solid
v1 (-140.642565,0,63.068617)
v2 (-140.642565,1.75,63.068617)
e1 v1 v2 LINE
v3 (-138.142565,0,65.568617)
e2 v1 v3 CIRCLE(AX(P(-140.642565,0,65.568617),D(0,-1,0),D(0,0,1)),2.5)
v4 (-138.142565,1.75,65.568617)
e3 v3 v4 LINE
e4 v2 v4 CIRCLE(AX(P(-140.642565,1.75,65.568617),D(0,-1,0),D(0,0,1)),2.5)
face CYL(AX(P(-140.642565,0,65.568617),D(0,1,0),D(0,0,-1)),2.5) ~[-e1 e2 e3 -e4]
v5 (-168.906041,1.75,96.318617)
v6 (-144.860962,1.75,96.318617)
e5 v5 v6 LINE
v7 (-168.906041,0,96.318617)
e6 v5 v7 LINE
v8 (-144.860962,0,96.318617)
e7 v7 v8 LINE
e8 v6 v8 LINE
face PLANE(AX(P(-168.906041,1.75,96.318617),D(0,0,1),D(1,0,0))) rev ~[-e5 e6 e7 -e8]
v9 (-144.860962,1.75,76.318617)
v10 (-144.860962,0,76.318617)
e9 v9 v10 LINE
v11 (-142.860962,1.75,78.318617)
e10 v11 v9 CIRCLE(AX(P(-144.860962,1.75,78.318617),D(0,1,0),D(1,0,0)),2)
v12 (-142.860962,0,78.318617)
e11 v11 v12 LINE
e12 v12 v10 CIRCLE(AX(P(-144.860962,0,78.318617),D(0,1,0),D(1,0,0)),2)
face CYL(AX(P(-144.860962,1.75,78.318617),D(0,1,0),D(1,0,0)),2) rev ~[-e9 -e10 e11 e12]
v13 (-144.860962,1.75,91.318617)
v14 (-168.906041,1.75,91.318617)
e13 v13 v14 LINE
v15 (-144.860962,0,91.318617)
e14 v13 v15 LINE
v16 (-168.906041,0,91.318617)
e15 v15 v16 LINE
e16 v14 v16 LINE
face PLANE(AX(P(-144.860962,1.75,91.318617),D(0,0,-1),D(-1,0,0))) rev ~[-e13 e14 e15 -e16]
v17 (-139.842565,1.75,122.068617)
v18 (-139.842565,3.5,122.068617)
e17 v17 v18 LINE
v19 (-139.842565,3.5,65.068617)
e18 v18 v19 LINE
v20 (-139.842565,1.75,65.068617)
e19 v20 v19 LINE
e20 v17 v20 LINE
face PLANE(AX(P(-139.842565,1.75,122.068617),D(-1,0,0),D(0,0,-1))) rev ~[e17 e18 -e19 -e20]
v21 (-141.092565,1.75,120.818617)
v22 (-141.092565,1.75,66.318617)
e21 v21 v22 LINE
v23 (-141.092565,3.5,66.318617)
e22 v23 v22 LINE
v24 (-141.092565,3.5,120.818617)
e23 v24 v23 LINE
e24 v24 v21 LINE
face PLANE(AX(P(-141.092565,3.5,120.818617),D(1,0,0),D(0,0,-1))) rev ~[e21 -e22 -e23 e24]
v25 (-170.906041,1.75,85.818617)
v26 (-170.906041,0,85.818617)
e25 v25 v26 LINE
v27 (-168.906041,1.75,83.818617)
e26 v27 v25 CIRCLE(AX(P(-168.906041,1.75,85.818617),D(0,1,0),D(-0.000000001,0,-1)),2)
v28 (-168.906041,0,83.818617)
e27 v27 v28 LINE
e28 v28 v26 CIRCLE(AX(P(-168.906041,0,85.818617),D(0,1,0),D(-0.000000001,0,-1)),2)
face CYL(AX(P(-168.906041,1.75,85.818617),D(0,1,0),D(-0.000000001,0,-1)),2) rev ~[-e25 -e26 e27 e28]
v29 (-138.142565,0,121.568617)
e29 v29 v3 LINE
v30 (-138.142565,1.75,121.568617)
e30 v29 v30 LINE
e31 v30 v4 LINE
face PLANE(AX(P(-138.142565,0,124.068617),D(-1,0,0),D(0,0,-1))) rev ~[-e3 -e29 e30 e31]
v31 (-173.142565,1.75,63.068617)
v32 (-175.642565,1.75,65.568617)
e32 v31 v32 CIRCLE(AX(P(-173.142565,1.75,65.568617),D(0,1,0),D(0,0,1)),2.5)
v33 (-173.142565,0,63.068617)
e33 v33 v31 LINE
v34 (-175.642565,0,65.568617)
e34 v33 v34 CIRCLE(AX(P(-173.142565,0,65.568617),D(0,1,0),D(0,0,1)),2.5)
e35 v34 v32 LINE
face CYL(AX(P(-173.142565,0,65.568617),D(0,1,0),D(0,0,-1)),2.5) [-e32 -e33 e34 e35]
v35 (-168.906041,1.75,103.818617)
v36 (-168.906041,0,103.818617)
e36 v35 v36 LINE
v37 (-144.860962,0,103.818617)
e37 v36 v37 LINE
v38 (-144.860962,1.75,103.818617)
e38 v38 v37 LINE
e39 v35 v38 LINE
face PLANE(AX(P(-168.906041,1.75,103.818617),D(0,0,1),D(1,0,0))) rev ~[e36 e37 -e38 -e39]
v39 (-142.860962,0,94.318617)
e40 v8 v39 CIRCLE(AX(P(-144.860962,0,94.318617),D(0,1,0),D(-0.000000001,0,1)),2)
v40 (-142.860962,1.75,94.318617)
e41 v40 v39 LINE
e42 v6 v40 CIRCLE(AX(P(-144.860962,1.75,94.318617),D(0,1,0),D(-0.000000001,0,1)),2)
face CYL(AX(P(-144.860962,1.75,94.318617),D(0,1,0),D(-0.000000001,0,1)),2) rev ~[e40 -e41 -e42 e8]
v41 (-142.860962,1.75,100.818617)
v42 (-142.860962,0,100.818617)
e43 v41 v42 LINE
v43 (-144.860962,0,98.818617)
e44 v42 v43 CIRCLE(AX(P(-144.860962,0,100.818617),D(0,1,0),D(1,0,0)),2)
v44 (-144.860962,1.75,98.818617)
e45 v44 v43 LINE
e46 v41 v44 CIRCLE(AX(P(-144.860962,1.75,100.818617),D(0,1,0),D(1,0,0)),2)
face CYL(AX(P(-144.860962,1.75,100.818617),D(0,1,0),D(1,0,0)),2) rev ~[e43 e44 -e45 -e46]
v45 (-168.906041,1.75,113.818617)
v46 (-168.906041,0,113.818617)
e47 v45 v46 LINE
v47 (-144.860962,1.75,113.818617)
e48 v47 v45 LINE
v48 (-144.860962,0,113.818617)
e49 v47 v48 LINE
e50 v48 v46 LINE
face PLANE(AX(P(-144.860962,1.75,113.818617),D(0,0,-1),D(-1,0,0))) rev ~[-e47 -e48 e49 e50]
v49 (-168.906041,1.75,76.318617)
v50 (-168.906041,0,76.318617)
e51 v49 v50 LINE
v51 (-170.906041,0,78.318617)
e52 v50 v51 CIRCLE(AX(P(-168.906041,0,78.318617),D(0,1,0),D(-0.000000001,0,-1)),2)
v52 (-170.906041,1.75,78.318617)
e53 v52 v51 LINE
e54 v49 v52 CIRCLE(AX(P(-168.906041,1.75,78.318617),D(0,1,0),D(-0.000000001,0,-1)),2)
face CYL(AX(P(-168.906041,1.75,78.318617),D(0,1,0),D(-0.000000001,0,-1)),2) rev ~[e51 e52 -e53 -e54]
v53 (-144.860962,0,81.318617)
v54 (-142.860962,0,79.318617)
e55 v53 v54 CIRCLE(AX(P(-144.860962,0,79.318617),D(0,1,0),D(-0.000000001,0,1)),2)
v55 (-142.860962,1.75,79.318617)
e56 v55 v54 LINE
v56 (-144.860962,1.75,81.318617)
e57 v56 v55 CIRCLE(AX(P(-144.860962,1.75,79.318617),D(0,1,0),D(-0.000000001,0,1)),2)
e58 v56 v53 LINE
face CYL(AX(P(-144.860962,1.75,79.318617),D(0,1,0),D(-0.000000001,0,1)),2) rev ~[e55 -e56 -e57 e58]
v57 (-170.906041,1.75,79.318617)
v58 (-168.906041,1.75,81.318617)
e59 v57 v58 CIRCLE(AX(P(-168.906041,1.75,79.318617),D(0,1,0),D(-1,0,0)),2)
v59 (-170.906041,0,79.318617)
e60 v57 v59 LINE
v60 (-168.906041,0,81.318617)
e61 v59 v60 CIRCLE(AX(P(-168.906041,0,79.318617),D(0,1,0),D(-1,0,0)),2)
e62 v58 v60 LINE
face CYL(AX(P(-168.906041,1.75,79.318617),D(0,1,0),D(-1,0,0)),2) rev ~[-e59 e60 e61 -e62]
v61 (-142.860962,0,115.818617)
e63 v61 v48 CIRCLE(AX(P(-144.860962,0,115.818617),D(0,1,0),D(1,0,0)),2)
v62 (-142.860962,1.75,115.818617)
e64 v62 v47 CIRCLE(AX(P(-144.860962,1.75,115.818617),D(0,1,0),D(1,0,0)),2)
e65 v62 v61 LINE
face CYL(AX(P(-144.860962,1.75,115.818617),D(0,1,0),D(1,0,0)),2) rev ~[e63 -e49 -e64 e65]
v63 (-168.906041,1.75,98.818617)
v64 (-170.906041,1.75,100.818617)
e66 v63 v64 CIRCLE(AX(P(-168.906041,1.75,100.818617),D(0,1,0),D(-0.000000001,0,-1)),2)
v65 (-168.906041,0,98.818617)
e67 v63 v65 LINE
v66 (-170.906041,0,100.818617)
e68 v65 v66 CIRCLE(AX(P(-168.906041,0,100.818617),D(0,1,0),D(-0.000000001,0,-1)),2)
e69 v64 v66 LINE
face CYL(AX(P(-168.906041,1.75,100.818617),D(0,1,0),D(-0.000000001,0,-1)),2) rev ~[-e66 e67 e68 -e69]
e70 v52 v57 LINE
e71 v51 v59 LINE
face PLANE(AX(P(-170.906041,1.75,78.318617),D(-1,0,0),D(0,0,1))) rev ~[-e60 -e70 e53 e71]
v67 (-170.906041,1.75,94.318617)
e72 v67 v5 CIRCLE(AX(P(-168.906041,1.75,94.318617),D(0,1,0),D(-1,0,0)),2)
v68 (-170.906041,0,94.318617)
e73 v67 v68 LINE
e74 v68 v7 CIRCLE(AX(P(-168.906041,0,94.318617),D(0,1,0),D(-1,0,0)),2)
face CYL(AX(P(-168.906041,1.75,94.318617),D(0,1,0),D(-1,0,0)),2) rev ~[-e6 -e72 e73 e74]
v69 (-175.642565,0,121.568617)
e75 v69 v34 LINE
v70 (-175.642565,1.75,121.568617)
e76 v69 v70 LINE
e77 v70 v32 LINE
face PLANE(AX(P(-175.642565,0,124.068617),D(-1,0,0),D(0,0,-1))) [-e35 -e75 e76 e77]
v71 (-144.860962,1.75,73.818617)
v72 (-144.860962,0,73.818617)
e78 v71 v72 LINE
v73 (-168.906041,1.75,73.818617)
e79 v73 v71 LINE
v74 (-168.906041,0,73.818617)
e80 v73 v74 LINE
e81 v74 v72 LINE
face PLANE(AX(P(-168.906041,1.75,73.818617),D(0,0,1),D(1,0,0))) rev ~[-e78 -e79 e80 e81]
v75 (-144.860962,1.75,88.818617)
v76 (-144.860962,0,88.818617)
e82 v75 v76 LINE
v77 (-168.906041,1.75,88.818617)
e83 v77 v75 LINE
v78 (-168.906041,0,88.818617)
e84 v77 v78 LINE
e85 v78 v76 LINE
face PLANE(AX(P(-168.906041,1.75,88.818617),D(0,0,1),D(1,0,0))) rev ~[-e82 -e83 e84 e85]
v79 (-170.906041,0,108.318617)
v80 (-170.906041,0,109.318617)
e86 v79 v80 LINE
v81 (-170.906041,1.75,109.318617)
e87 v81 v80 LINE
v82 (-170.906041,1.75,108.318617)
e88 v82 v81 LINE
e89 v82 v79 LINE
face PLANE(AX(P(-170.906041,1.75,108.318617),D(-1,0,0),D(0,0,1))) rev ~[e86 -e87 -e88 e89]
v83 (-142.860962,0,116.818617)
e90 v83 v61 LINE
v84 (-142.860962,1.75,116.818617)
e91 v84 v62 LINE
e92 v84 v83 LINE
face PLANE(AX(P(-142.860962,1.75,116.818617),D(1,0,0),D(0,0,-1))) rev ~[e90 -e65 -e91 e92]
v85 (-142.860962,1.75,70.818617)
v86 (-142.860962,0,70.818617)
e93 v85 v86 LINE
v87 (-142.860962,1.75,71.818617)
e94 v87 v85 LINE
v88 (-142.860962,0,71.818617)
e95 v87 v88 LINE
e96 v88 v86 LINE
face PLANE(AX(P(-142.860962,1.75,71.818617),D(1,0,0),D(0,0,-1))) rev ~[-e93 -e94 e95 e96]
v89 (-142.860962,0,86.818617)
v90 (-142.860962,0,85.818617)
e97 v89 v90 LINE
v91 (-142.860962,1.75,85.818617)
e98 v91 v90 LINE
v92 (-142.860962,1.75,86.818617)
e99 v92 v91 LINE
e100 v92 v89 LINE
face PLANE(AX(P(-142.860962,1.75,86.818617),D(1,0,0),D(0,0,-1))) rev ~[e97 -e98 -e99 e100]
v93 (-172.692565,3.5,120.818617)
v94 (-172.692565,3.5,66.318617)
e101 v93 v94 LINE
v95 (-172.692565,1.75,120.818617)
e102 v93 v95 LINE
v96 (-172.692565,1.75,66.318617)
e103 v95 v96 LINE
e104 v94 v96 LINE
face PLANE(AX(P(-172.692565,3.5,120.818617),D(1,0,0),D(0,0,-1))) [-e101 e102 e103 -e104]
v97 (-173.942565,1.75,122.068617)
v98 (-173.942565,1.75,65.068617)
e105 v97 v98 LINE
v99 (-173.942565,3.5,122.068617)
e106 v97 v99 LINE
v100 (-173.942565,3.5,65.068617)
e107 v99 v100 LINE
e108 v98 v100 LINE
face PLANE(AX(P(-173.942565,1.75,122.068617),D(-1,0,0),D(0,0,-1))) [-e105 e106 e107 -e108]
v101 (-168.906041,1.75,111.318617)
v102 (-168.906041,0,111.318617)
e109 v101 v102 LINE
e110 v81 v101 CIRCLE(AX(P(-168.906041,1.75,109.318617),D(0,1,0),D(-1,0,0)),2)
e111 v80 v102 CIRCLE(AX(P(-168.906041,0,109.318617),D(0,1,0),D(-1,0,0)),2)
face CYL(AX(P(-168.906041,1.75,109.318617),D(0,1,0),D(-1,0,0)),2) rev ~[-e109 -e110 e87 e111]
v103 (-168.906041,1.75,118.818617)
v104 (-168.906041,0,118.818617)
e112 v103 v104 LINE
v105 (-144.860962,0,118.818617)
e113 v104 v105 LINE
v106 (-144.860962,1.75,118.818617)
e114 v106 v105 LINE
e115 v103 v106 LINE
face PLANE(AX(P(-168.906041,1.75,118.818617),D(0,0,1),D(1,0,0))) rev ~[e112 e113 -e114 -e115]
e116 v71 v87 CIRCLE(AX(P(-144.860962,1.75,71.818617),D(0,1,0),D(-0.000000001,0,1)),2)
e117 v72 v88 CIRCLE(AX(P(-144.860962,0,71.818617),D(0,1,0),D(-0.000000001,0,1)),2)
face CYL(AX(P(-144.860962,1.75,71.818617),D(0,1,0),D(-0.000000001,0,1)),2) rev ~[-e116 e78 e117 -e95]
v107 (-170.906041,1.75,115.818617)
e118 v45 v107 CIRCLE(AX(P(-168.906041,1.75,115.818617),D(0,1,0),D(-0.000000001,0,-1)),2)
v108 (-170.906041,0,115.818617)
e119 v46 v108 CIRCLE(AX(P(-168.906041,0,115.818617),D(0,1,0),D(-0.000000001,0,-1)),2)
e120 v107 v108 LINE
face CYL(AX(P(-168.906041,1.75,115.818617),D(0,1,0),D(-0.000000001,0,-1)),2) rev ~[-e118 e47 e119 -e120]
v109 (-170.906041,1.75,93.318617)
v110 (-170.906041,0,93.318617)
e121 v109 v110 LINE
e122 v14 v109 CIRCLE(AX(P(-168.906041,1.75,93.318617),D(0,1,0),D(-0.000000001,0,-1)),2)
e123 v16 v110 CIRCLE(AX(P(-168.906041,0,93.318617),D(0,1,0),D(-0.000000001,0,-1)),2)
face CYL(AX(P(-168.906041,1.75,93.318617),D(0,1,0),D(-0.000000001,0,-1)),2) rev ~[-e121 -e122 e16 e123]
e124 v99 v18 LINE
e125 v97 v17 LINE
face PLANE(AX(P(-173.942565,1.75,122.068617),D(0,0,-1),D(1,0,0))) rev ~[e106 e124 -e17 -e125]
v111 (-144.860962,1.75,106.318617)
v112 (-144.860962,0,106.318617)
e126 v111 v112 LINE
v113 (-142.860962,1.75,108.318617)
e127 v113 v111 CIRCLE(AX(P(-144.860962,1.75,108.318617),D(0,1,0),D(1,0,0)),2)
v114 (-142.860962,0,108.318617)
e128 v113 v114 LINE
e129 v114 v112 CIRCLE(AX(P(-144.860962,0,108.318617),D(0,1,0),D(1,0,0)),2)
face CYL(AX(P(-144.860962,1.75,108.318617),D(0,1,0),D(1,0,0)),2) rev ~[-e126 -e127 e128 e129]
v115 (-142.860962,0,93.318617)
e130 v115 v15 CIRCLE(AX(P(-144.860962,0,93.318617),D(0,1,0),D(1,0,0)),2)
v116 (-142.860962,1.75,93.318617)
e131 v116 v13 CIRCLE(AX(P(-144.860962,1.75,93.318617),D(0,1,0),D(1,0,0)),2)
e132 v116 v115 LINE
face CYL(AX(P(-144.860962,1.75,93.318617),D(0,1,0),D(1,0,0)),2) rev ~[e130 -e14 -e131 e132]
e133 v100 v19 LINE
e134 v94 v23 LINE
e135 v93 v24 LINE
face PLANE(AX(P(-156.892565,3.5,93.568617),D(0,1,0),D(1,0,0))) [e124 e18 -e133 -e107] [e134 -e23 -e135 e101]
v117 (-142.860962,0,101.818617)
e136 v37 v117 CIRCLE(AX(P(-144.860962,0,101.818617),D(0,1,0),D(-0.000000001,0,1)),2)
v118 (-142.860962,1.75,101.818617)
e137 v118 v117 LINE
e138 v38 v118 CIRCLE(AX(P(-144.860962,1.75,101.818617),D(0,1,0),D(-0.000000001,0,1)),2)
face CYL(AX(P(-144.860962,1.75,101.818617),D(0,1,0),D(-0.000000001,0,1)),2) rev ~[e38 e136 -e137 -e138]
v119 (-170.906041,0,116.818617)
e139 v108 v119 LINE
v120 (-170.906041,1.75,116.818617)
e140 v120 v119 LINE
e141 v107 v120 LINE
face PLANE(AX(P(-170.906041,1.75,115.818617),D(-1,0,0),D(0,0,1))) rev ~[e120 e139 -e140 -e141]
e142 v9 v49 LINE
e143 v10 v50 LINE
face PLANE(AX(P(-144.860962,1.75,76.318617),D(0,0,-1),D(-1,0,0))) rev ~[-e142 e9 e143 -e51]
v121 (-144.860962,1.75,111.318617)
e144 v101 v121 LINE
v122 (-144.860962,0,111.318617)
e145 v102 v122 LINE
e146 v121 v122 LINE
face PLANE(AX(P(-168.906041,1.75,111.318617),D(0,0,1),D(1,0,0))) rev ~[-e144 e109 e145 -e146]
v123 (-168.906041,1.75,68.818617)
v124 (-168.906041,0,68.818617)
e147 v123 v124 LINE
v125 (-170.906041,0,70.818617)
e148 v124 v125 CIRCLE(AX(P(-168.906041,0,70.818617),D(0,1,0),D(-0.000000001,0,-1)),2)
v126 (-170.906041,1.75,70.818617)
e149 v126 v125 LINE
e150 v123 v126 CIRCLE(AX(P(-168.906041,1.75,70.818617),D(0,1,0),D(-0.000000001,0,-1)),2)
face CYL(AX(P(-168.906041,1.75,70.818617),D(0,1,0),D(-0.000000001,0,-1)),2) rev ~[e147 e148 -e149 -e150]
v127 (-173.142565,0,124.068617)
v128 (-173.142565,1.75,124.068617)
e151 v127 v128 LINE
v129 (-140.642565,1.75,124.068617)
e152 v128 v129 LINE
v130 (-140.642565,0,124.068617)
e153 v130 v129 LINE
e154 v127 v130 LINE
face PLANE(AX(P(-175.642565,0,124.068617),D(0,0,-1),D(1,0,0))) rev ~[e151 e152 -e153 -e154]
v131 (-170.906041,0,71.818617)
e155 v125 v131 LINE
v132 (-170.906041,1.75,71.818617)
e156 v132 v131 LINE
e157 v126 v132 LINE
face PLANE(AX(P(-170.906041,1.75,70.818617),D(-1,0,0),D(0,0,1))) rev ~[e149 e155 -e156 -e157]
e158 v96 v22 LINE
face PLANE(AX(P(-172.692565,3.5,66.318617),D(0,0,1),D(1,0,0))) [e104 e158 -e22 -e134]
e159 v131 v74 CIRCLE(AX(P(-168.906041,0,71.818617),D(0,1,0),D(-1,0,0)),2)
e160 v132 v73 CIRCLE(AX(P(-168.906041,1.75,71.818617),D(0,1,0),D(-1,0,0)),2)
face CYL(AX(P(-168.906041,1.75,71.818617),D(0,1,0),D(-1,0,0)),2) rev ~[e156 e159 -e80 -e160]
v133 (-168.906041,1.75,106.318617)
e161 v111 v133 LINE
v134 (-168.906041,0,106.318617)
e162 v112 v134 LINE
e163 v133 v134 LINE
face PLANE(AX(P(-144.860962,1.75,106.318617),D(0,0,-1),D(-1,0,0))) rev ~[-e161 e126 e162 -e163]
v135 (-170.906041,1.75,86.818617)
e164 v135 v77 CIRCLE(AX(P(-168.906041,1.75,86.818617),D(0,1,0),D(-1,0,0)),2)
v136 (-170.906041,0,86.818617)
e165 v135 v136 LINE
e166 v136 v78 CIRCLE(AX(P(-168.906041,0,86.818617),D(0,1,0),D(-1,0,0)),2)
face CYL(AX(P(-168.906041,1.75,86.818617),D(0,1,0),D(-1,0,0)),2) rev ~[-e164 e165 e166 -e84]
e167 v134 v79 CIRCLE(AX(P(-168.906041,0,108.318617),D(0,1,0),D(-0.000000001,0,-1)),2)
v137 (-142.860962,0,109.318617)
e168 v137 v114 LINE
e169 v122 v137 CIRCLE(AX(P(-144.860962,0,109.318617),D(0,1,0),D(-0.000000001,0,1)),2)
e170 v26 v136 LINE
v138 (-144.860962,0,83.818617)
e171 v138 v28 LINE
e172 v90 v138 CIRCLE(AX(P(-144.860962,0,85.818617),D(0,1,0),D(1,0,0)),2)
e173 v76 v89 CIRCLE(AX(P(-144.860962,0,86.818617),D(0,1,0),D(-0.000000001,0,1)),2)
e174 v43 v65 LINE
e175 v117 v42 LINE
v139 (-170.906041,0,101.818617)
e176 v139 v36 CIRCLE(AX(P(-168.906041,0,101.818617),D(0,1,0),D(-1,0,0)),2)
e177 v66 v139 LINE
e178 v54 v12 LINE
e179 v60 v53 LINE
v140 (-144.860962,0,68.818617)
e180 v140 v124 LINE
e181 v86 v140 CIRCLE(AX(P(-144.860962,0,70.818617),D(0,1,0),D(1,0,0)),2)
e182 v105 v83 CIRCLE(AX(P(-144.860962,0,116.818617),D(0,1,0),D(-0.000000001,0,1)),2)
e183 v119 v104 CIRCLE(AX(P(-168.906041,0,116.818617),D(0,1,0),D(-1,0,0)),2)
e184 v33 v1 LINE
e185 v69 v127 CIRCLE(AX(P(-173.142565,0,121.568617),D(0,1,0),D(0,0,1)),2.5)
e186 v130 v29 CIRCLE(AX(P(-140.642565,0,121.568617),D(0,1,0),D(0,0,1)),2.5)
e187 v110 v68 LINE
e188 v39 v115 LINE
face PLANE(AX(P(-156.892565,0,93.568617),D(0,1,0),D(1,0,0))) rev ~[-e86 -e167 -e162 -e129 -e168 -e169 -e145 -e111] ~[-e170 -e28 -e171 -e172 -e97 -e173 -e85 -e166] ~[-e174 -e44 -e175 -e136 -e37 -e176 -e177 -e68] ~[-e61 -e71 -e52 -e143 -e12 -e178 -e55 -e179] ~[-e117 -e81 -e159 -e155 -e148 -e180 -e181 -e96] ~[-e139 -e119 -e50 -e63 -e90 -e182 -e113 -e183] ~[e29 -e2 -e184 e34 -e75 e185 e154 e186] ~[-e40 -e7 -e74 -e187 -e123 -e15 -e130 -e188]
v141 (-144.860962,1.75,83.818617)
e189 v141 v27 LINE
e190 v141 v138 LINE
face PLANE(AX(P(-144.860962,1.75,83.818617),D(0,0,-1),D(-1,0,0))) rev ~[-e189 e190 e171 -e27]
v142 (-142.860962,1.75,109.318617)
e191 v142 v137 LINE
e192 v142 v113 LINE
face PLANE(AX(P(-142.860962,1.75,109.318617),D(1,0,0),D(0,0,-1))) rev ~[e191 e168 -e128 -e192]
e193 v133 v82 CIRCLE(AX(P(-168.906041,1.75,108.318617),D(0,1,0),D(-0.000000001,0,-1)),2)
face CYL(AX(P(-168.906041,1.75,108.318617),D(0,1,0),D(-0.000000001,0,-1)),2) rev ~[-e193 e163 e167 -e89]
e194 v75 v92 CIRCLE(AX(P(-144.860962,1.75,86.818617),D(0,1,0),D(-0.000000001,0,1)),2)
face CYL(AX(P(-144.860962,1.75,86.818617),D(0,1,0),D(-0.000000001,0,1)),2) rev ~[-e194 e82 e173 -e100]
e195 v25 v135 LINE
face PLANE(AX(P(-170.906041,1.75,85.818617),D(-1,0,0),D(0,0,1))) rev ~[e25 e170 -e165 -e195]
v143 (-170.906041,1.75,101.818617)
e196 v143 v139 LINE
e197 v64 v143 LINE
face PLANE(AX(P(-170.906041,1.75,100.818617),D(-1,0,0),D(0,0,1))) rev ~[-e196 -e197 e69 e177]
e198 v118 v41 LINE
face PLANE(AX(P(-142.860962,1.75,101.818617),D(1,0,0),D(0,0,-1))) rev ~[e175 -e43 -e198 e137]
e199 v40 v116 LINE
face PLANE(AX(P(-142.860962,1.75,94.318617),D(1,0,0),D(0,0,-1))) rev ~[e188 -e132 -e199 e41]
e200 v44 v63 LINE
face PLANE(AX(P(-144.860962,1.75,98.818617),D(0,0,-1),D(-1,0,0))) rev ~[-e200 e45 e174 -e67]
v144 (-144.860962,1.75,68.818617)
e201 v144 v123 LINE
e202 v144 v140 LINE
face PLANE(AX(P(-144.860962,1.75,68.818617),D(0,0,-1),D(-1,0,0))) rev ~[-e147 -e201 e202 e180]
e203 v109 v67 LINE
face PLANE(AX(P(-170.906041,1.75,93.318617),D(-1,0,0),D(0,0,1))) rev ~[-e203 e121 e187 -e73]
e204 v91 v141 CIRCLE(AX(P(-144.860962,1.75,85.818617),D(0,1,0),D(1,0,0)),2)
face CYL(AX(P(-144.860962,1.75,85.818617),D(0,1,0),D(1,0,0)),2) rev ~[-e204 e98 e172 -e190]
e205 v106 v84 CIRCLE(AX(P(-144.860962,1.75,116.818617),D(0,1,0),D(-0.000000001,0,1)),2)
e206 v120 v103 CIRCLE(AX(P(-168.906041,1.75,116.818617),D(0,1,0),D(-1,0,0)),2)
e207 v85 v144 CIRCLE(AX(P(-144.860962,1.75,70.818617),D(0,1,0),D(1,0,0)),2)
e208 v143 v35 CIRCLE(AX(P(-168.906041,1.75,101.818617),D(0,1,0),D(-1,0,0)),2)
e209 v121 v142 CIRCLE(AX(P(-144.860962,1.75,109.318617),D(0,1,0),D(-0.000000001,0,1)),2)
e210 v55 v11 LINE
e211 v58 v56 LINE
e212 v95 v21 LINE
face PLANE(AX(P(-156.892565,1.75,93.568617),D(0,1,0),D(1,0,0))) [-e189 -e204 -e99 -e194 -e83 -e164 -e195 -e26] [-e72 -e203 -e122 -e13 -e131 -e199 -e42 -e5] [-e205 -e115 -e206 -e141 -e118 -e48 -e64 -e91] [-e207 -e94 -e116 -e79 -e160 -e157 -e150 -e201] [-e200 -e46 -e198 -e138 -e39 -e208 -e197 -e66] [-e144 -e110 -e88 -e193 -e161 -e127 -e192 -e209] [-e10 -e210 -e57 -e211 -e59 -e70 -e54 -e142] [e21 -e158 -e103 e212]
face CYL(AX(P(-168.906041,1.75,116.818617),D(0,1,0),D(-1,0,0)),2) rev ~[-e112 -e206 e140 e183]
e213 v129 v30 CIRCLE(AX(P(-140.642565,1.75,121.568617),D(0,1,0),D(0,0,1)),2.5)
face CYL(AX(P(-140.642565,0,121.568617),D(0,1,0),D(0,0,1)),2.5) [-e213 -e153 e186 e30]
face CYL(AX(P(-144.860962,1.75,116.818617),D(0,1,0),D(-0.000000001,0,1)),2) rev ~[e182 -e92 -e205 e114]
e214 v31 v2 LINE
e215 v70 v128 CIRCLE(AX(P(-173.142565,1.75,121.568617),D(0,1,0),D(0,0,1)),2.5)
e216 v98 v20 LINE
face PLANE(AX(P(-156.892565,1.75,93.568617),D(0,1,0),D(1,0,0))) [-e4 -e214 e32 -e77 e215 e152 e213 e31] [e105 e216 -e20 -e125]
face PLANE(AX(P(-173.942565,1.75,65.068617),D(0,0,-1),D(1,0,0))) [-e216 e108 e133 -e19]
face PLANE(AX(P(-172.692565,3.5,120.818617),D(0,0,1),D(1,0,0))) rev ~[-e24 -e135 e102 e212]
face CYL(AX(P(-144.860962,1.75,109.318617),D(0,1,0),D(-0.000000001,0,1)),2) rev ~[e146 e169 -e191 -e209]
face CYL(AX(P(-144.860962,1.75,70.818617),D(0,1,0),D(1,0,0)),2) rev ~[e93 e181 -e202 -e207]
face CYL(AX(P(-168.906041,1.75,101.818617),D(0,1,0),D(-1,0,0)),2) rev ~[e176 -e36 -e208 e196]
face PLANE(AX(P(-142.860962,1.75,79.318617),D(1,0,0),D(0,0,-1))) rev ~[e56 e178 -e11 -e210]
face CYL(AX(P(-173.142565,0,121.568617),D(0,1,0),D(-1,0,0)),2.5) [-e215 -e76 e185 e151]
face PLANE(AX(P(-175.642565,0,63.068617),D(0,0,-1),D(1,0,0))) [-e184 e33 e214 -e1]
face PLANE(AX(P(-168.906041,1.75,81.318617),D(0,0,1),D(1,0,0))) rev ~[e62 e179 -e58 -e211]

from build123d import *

# Parameters (mm, degrees)
SKETCH1_W           = 37.5
SKETCH1_H           = 61
BOSS_EXTRUDE1_DEPTH = 1.75
SKETCH2_W           = 34.1
SKETCH2_H           = 57
BOSS_EXTRUDE2_DEPTH = 1.75
SKETCH3_W           = 31.6
SKETCH3_H           = 54.5
CUT_EXTRUDE1_DEPTH  = 1.75
CUT_EXTRUDE3_DEPTH  = 1.75
FILLET1_R           = 2.5
FILLET2_R           = 2.5
FILLET3_R           = 2.5
FILLET4_R           = 2.5


with BuildPart() as part:
    # Sketch1 → Boss-Extrude1 (new body)
    with BuildSketch(Plane(origin=(0, 0, 0), x_dir=(1, 0, 0), z_dir=(0, 1, 0))):
        with Locations((-156.892564619, -93.568616843)):
            Rectangle(SKETCH1_W, SKETCH1_H)
    extrude(amount=BOSS_EXTRUDE1_DEPTH)

    # Sketch2 → Boss-Extrude2 (add)
    with BuildSketch(Plane(origin=(0, 1.75, 0), x_dir=(1, 0, 0), z_dir=(0, 1, 0))):
        with Locations((-156.892564619, -93.568616843)):
            Rectangle(SKETCH2_W, SKETCH2_H)
    extrude(amount=BOSS_EXTRUDE2_DEPTH)

    # Sketch3 → Cut-Extrude1 (cut)
    with BuildSketch(Plane(origin=(0, 3.5, 0), x_dir=(1, 0, 0), z_dir=(0, 1, 0))):
        with Locations((-156.892564619, -93.568616843)):
            Rectangle(SKETCH3_W, SKETCH3_H)
    extrude(amount=-CUT_EXTRUDE1_DEPTH, mode=Mode.SUBTRACT)

    # Sketch4 → Cut-Extrude3 (cut)
    with BuildSketch(Plane(origin=(0, 1.75, 0), x_dir=(1, 0, 0), z_dir=(0, 1, 0))):
        with BuildLine():
            Line((-168.906040513, -118.818616843), (-144.860961832, -118.818616843))
            ThreePointArc((-144.860961832, -118.818616843), (-143.446748269, -118.232830406), (-142.860961832, -116.818616843))
            Line((-142.860961832, -116.818616843), (-142.860961832, -115.818616843))
            ThreePointArc((-142.860961832, -115.818616843), (-143.446748269, -114.404403281), (-144.860961832, -113.818616843))
            Line((-144.860961832, -113.818616843), (-168.906040513, -113.818616843))
            ThreePointArc((-168.906040513, -113.818616843), (-170.320254075, -114.404403281), (-170.906040513, -115.818616843))
            Line((-170.906040513, -115.818616843), (-170.906040513, -116.818616843))
            ThreePointArc((-170.906040513, -116.818616843), (-170.320254075, -118.232830406), (-168.906040513, -118.818616843))
        make_face()
        with BuildLine():
            Line((-168.906040513, -103.818616843), (-144.860961832, -103.818616843))
            ThreePointArc((-144.860961832, -103.818616843), (-143.446748269, -103.232830406), (-142.860961832, -101.818616843))
            Line((-142.860961832, -101.818616843), (-142.860961832, -100.818616843))
            ThreePointArc((-142.860961832, -100.818616843), (-143.446748269, -99.404403281), (-144.860961832, -98.818616843))
            Line((-144.860961832, -98.818616843), (-168.906040513, -98.818616843))
            ThreePointArc((-168.906040513, -98.818616843), (-170.320254075, -99.404403281), (-170.906040513, -100.818616843))
            Line((-170.906040513, -100.818616843), (-170.906040513, -101.818616843))
            ThreePointArc((-170.906040513, -101.818616843), (-170.320254075, -103.232830406), (-168.906040513, -103.818616843))
        make_face()
        with BuildLine():
            Line((-168.906040513, -96.318616843), (-144.860961832, -96.318616843))
            ThreePointArc((-144.860961832, -96.318616843), (-143.446748269, -95.732830406), (-142.860961832, -94.318616843))
            Line((-142.860961832, -94.318616843), (-142.860961832, -93.318616843))
            ThreePointArc((-142.860961832, -93.318616843), (-143.446748269, -91.904403281), (-144.860961832, -91.318616843))
            Line((-144.860961832, -91.318616843), (-168.906040513, -91.318616843))
            ThreePointArc((-168.906040513, -91.318616843), (-170.320254075, -91.904403281), (-170.906040513, -93.318616843))
            Line((-170.906040513, -93.318616843), (-170.906040513, -94.318616843))
            ThreePointArc((-170.906040513, -94.318616843), (-170.320254075, -95.732830406), (-168.906040513, -96.318616843))
        make_face()
        with BuildLine():
            Line((-168.906040513, -81.318616843), (-144.860961832, -81.318616843))
            ThreePointArc((-144.860961832, -81.318616843), (-143.446748269, -80.732830406), (-142.860961832, -79.318616843))
            Line((-142.860961832, -79.318616843), (-142.860961832, -78.318616843))
            ThreePointArc((-142.860961832, -78.318616843), (-143.446748269, -76.904403281), (-144.860961832, -76.318616843))
            Line((-144.860961832, -76.318616843), (-168.906040513, -76.318616843))
            ThreePointArc((-168.906040513, -76.318616843), (-170.320254075, -76.904403281), (-170.906040513, -78.318616843))
            Line((-170.906040513, -78.318616843), (-170.906040513, -79.318616843))
            ThreePointArc((-170.906040513, -79.318616843), (-170.320254075, -80.732830406), (-168.906040513, -81.318616843))
        make_face()
        with BuildLine():
            Line((-168.906040513, -111.318616843), (-144.860961832, -111.318616843))
            ThreePointArc((-144.860961832, -111.318616843), (-143.446748269, -110.732830406), (-142.860961832, -109.318616843))
            Line((-142.860961832, -109.318616843), (-142.860961832, -108.318616843))
            ThreePointArc((-142.860961832, -108.318616843), (-143.446748269, -106.904403281), (-144.860961832, -106.318616843))
            Line((-144.860961832, -106.318616843), (-168.906040513, -106.318616843))
            ThreePointArc((-168.906040513, -106.318616843), (-170.320254075, -106.904403281), (-170.906040513, -108.318616843))
            Line((-170.906040513, -108.318616843), (-170.906040513, -109.318616843))
            ThreePointArc((-170.906040513, -109.318616843), (-170.320254075, -110.732830406), (-168.906040513, -111.318616843))
        make_face()
        with BuildLine():
            Line((-168.906040513, -88.818616843), (-144.860961832, -88.818616843))
            ThreePointArc((-144.860961832, -88.818616843), (-143.446748269, -88.232830406), (-142.860961832, -86.818616843))
            Line((-142.860961832, -86.818616843), (-142.860961832, -85.818616843))
            ThreePointArc((-142.860961832, -85.818616843), (-143.446748269, -84.404403281), (-144.860961832, -83.818616843))
            Line((-144.860961832, -83.818616843), (-168.906040513, -83.818616843))
            ThreePointArc((-168.906040513, -83.818616843), (-170.320254075, -84.404403281), (-170.906040513, -85.818616843))
            Line((-170.906040513, -85.818616843), (-170.906040513, -86.818616843))
            ThreePointArc((-170.906040513, -86.818616843), (-170.320254075, -88.232830406), (-168.906040513, -88.818616843))
        make_face()
        with BuildLine():
            Line((-168.906040513, -73.818616843), (-144.860961832, -73.818616843))
            ThreePointArc((-144.860961832, -73.818616843), (-143.446748269, -73.232830406), (-142.860961832, -71.818616843))
            Line((-142.860961832, -71.818616843), (-142.860961832, -70.818616843))
            ThreePointArc((-142.860961832, -70.818616843), (-143.446748269, -69.404403281), (-144.860961832, -68.818616843))
            Line((-144.860961832, -68.818616843), (-168.906040513, -68.818616843))
            ThreePointArc((-168.906040513, -68.818616843), (-170.320254075, -69.404403281), (-170.906040513, -70.818616843))
            Line((-170.906040513, -70.818616843), (-170.906040513, -71.818616843))
            ThreePointArc((-170.906040513, -71.818616843), (-170.320254075, -73.232830406), (-168.906040513, -73.818616843))
        make_face()
    extrude(amount=-CUT_EXTRUDE3_DEPTH, mode=Mode.SUBTRACT)

    # Fillet1
    fillet1_edges = [part.edges().sort_by_distance(p)[0] for p in [
        (-138.142564619, 0.875, 63.068616843),
    ]]
    fillet(fillet1_edges, radius=FILLET1_R)

    # Fillet2
    fillet2_edges = [part.edges().sort_by_distance(p)[0] for p in [
        (-175.642564619, 0.875, 63.068616843),
    ]]
    fillet(fillet2_edges, radius=FILLET2_R)

    # Fillet3
    fillet3_edges = [part.edges().sort_by_distance(p)[0] for p in [
        (-175.642564619, 0.875, 124.068616843),
    ]]
    fillet(fillet3_edges, radius=FILLET3_R)

    # Fillet4
    fillet4_edges = [part.edges().sort_by_distance(p)[0] for p in [
        (-138.142564619, 0.875, 124.068616843),
    ]]
    fillet(fillet4_edges, radius=FILLET4_R)


solid = part.part
